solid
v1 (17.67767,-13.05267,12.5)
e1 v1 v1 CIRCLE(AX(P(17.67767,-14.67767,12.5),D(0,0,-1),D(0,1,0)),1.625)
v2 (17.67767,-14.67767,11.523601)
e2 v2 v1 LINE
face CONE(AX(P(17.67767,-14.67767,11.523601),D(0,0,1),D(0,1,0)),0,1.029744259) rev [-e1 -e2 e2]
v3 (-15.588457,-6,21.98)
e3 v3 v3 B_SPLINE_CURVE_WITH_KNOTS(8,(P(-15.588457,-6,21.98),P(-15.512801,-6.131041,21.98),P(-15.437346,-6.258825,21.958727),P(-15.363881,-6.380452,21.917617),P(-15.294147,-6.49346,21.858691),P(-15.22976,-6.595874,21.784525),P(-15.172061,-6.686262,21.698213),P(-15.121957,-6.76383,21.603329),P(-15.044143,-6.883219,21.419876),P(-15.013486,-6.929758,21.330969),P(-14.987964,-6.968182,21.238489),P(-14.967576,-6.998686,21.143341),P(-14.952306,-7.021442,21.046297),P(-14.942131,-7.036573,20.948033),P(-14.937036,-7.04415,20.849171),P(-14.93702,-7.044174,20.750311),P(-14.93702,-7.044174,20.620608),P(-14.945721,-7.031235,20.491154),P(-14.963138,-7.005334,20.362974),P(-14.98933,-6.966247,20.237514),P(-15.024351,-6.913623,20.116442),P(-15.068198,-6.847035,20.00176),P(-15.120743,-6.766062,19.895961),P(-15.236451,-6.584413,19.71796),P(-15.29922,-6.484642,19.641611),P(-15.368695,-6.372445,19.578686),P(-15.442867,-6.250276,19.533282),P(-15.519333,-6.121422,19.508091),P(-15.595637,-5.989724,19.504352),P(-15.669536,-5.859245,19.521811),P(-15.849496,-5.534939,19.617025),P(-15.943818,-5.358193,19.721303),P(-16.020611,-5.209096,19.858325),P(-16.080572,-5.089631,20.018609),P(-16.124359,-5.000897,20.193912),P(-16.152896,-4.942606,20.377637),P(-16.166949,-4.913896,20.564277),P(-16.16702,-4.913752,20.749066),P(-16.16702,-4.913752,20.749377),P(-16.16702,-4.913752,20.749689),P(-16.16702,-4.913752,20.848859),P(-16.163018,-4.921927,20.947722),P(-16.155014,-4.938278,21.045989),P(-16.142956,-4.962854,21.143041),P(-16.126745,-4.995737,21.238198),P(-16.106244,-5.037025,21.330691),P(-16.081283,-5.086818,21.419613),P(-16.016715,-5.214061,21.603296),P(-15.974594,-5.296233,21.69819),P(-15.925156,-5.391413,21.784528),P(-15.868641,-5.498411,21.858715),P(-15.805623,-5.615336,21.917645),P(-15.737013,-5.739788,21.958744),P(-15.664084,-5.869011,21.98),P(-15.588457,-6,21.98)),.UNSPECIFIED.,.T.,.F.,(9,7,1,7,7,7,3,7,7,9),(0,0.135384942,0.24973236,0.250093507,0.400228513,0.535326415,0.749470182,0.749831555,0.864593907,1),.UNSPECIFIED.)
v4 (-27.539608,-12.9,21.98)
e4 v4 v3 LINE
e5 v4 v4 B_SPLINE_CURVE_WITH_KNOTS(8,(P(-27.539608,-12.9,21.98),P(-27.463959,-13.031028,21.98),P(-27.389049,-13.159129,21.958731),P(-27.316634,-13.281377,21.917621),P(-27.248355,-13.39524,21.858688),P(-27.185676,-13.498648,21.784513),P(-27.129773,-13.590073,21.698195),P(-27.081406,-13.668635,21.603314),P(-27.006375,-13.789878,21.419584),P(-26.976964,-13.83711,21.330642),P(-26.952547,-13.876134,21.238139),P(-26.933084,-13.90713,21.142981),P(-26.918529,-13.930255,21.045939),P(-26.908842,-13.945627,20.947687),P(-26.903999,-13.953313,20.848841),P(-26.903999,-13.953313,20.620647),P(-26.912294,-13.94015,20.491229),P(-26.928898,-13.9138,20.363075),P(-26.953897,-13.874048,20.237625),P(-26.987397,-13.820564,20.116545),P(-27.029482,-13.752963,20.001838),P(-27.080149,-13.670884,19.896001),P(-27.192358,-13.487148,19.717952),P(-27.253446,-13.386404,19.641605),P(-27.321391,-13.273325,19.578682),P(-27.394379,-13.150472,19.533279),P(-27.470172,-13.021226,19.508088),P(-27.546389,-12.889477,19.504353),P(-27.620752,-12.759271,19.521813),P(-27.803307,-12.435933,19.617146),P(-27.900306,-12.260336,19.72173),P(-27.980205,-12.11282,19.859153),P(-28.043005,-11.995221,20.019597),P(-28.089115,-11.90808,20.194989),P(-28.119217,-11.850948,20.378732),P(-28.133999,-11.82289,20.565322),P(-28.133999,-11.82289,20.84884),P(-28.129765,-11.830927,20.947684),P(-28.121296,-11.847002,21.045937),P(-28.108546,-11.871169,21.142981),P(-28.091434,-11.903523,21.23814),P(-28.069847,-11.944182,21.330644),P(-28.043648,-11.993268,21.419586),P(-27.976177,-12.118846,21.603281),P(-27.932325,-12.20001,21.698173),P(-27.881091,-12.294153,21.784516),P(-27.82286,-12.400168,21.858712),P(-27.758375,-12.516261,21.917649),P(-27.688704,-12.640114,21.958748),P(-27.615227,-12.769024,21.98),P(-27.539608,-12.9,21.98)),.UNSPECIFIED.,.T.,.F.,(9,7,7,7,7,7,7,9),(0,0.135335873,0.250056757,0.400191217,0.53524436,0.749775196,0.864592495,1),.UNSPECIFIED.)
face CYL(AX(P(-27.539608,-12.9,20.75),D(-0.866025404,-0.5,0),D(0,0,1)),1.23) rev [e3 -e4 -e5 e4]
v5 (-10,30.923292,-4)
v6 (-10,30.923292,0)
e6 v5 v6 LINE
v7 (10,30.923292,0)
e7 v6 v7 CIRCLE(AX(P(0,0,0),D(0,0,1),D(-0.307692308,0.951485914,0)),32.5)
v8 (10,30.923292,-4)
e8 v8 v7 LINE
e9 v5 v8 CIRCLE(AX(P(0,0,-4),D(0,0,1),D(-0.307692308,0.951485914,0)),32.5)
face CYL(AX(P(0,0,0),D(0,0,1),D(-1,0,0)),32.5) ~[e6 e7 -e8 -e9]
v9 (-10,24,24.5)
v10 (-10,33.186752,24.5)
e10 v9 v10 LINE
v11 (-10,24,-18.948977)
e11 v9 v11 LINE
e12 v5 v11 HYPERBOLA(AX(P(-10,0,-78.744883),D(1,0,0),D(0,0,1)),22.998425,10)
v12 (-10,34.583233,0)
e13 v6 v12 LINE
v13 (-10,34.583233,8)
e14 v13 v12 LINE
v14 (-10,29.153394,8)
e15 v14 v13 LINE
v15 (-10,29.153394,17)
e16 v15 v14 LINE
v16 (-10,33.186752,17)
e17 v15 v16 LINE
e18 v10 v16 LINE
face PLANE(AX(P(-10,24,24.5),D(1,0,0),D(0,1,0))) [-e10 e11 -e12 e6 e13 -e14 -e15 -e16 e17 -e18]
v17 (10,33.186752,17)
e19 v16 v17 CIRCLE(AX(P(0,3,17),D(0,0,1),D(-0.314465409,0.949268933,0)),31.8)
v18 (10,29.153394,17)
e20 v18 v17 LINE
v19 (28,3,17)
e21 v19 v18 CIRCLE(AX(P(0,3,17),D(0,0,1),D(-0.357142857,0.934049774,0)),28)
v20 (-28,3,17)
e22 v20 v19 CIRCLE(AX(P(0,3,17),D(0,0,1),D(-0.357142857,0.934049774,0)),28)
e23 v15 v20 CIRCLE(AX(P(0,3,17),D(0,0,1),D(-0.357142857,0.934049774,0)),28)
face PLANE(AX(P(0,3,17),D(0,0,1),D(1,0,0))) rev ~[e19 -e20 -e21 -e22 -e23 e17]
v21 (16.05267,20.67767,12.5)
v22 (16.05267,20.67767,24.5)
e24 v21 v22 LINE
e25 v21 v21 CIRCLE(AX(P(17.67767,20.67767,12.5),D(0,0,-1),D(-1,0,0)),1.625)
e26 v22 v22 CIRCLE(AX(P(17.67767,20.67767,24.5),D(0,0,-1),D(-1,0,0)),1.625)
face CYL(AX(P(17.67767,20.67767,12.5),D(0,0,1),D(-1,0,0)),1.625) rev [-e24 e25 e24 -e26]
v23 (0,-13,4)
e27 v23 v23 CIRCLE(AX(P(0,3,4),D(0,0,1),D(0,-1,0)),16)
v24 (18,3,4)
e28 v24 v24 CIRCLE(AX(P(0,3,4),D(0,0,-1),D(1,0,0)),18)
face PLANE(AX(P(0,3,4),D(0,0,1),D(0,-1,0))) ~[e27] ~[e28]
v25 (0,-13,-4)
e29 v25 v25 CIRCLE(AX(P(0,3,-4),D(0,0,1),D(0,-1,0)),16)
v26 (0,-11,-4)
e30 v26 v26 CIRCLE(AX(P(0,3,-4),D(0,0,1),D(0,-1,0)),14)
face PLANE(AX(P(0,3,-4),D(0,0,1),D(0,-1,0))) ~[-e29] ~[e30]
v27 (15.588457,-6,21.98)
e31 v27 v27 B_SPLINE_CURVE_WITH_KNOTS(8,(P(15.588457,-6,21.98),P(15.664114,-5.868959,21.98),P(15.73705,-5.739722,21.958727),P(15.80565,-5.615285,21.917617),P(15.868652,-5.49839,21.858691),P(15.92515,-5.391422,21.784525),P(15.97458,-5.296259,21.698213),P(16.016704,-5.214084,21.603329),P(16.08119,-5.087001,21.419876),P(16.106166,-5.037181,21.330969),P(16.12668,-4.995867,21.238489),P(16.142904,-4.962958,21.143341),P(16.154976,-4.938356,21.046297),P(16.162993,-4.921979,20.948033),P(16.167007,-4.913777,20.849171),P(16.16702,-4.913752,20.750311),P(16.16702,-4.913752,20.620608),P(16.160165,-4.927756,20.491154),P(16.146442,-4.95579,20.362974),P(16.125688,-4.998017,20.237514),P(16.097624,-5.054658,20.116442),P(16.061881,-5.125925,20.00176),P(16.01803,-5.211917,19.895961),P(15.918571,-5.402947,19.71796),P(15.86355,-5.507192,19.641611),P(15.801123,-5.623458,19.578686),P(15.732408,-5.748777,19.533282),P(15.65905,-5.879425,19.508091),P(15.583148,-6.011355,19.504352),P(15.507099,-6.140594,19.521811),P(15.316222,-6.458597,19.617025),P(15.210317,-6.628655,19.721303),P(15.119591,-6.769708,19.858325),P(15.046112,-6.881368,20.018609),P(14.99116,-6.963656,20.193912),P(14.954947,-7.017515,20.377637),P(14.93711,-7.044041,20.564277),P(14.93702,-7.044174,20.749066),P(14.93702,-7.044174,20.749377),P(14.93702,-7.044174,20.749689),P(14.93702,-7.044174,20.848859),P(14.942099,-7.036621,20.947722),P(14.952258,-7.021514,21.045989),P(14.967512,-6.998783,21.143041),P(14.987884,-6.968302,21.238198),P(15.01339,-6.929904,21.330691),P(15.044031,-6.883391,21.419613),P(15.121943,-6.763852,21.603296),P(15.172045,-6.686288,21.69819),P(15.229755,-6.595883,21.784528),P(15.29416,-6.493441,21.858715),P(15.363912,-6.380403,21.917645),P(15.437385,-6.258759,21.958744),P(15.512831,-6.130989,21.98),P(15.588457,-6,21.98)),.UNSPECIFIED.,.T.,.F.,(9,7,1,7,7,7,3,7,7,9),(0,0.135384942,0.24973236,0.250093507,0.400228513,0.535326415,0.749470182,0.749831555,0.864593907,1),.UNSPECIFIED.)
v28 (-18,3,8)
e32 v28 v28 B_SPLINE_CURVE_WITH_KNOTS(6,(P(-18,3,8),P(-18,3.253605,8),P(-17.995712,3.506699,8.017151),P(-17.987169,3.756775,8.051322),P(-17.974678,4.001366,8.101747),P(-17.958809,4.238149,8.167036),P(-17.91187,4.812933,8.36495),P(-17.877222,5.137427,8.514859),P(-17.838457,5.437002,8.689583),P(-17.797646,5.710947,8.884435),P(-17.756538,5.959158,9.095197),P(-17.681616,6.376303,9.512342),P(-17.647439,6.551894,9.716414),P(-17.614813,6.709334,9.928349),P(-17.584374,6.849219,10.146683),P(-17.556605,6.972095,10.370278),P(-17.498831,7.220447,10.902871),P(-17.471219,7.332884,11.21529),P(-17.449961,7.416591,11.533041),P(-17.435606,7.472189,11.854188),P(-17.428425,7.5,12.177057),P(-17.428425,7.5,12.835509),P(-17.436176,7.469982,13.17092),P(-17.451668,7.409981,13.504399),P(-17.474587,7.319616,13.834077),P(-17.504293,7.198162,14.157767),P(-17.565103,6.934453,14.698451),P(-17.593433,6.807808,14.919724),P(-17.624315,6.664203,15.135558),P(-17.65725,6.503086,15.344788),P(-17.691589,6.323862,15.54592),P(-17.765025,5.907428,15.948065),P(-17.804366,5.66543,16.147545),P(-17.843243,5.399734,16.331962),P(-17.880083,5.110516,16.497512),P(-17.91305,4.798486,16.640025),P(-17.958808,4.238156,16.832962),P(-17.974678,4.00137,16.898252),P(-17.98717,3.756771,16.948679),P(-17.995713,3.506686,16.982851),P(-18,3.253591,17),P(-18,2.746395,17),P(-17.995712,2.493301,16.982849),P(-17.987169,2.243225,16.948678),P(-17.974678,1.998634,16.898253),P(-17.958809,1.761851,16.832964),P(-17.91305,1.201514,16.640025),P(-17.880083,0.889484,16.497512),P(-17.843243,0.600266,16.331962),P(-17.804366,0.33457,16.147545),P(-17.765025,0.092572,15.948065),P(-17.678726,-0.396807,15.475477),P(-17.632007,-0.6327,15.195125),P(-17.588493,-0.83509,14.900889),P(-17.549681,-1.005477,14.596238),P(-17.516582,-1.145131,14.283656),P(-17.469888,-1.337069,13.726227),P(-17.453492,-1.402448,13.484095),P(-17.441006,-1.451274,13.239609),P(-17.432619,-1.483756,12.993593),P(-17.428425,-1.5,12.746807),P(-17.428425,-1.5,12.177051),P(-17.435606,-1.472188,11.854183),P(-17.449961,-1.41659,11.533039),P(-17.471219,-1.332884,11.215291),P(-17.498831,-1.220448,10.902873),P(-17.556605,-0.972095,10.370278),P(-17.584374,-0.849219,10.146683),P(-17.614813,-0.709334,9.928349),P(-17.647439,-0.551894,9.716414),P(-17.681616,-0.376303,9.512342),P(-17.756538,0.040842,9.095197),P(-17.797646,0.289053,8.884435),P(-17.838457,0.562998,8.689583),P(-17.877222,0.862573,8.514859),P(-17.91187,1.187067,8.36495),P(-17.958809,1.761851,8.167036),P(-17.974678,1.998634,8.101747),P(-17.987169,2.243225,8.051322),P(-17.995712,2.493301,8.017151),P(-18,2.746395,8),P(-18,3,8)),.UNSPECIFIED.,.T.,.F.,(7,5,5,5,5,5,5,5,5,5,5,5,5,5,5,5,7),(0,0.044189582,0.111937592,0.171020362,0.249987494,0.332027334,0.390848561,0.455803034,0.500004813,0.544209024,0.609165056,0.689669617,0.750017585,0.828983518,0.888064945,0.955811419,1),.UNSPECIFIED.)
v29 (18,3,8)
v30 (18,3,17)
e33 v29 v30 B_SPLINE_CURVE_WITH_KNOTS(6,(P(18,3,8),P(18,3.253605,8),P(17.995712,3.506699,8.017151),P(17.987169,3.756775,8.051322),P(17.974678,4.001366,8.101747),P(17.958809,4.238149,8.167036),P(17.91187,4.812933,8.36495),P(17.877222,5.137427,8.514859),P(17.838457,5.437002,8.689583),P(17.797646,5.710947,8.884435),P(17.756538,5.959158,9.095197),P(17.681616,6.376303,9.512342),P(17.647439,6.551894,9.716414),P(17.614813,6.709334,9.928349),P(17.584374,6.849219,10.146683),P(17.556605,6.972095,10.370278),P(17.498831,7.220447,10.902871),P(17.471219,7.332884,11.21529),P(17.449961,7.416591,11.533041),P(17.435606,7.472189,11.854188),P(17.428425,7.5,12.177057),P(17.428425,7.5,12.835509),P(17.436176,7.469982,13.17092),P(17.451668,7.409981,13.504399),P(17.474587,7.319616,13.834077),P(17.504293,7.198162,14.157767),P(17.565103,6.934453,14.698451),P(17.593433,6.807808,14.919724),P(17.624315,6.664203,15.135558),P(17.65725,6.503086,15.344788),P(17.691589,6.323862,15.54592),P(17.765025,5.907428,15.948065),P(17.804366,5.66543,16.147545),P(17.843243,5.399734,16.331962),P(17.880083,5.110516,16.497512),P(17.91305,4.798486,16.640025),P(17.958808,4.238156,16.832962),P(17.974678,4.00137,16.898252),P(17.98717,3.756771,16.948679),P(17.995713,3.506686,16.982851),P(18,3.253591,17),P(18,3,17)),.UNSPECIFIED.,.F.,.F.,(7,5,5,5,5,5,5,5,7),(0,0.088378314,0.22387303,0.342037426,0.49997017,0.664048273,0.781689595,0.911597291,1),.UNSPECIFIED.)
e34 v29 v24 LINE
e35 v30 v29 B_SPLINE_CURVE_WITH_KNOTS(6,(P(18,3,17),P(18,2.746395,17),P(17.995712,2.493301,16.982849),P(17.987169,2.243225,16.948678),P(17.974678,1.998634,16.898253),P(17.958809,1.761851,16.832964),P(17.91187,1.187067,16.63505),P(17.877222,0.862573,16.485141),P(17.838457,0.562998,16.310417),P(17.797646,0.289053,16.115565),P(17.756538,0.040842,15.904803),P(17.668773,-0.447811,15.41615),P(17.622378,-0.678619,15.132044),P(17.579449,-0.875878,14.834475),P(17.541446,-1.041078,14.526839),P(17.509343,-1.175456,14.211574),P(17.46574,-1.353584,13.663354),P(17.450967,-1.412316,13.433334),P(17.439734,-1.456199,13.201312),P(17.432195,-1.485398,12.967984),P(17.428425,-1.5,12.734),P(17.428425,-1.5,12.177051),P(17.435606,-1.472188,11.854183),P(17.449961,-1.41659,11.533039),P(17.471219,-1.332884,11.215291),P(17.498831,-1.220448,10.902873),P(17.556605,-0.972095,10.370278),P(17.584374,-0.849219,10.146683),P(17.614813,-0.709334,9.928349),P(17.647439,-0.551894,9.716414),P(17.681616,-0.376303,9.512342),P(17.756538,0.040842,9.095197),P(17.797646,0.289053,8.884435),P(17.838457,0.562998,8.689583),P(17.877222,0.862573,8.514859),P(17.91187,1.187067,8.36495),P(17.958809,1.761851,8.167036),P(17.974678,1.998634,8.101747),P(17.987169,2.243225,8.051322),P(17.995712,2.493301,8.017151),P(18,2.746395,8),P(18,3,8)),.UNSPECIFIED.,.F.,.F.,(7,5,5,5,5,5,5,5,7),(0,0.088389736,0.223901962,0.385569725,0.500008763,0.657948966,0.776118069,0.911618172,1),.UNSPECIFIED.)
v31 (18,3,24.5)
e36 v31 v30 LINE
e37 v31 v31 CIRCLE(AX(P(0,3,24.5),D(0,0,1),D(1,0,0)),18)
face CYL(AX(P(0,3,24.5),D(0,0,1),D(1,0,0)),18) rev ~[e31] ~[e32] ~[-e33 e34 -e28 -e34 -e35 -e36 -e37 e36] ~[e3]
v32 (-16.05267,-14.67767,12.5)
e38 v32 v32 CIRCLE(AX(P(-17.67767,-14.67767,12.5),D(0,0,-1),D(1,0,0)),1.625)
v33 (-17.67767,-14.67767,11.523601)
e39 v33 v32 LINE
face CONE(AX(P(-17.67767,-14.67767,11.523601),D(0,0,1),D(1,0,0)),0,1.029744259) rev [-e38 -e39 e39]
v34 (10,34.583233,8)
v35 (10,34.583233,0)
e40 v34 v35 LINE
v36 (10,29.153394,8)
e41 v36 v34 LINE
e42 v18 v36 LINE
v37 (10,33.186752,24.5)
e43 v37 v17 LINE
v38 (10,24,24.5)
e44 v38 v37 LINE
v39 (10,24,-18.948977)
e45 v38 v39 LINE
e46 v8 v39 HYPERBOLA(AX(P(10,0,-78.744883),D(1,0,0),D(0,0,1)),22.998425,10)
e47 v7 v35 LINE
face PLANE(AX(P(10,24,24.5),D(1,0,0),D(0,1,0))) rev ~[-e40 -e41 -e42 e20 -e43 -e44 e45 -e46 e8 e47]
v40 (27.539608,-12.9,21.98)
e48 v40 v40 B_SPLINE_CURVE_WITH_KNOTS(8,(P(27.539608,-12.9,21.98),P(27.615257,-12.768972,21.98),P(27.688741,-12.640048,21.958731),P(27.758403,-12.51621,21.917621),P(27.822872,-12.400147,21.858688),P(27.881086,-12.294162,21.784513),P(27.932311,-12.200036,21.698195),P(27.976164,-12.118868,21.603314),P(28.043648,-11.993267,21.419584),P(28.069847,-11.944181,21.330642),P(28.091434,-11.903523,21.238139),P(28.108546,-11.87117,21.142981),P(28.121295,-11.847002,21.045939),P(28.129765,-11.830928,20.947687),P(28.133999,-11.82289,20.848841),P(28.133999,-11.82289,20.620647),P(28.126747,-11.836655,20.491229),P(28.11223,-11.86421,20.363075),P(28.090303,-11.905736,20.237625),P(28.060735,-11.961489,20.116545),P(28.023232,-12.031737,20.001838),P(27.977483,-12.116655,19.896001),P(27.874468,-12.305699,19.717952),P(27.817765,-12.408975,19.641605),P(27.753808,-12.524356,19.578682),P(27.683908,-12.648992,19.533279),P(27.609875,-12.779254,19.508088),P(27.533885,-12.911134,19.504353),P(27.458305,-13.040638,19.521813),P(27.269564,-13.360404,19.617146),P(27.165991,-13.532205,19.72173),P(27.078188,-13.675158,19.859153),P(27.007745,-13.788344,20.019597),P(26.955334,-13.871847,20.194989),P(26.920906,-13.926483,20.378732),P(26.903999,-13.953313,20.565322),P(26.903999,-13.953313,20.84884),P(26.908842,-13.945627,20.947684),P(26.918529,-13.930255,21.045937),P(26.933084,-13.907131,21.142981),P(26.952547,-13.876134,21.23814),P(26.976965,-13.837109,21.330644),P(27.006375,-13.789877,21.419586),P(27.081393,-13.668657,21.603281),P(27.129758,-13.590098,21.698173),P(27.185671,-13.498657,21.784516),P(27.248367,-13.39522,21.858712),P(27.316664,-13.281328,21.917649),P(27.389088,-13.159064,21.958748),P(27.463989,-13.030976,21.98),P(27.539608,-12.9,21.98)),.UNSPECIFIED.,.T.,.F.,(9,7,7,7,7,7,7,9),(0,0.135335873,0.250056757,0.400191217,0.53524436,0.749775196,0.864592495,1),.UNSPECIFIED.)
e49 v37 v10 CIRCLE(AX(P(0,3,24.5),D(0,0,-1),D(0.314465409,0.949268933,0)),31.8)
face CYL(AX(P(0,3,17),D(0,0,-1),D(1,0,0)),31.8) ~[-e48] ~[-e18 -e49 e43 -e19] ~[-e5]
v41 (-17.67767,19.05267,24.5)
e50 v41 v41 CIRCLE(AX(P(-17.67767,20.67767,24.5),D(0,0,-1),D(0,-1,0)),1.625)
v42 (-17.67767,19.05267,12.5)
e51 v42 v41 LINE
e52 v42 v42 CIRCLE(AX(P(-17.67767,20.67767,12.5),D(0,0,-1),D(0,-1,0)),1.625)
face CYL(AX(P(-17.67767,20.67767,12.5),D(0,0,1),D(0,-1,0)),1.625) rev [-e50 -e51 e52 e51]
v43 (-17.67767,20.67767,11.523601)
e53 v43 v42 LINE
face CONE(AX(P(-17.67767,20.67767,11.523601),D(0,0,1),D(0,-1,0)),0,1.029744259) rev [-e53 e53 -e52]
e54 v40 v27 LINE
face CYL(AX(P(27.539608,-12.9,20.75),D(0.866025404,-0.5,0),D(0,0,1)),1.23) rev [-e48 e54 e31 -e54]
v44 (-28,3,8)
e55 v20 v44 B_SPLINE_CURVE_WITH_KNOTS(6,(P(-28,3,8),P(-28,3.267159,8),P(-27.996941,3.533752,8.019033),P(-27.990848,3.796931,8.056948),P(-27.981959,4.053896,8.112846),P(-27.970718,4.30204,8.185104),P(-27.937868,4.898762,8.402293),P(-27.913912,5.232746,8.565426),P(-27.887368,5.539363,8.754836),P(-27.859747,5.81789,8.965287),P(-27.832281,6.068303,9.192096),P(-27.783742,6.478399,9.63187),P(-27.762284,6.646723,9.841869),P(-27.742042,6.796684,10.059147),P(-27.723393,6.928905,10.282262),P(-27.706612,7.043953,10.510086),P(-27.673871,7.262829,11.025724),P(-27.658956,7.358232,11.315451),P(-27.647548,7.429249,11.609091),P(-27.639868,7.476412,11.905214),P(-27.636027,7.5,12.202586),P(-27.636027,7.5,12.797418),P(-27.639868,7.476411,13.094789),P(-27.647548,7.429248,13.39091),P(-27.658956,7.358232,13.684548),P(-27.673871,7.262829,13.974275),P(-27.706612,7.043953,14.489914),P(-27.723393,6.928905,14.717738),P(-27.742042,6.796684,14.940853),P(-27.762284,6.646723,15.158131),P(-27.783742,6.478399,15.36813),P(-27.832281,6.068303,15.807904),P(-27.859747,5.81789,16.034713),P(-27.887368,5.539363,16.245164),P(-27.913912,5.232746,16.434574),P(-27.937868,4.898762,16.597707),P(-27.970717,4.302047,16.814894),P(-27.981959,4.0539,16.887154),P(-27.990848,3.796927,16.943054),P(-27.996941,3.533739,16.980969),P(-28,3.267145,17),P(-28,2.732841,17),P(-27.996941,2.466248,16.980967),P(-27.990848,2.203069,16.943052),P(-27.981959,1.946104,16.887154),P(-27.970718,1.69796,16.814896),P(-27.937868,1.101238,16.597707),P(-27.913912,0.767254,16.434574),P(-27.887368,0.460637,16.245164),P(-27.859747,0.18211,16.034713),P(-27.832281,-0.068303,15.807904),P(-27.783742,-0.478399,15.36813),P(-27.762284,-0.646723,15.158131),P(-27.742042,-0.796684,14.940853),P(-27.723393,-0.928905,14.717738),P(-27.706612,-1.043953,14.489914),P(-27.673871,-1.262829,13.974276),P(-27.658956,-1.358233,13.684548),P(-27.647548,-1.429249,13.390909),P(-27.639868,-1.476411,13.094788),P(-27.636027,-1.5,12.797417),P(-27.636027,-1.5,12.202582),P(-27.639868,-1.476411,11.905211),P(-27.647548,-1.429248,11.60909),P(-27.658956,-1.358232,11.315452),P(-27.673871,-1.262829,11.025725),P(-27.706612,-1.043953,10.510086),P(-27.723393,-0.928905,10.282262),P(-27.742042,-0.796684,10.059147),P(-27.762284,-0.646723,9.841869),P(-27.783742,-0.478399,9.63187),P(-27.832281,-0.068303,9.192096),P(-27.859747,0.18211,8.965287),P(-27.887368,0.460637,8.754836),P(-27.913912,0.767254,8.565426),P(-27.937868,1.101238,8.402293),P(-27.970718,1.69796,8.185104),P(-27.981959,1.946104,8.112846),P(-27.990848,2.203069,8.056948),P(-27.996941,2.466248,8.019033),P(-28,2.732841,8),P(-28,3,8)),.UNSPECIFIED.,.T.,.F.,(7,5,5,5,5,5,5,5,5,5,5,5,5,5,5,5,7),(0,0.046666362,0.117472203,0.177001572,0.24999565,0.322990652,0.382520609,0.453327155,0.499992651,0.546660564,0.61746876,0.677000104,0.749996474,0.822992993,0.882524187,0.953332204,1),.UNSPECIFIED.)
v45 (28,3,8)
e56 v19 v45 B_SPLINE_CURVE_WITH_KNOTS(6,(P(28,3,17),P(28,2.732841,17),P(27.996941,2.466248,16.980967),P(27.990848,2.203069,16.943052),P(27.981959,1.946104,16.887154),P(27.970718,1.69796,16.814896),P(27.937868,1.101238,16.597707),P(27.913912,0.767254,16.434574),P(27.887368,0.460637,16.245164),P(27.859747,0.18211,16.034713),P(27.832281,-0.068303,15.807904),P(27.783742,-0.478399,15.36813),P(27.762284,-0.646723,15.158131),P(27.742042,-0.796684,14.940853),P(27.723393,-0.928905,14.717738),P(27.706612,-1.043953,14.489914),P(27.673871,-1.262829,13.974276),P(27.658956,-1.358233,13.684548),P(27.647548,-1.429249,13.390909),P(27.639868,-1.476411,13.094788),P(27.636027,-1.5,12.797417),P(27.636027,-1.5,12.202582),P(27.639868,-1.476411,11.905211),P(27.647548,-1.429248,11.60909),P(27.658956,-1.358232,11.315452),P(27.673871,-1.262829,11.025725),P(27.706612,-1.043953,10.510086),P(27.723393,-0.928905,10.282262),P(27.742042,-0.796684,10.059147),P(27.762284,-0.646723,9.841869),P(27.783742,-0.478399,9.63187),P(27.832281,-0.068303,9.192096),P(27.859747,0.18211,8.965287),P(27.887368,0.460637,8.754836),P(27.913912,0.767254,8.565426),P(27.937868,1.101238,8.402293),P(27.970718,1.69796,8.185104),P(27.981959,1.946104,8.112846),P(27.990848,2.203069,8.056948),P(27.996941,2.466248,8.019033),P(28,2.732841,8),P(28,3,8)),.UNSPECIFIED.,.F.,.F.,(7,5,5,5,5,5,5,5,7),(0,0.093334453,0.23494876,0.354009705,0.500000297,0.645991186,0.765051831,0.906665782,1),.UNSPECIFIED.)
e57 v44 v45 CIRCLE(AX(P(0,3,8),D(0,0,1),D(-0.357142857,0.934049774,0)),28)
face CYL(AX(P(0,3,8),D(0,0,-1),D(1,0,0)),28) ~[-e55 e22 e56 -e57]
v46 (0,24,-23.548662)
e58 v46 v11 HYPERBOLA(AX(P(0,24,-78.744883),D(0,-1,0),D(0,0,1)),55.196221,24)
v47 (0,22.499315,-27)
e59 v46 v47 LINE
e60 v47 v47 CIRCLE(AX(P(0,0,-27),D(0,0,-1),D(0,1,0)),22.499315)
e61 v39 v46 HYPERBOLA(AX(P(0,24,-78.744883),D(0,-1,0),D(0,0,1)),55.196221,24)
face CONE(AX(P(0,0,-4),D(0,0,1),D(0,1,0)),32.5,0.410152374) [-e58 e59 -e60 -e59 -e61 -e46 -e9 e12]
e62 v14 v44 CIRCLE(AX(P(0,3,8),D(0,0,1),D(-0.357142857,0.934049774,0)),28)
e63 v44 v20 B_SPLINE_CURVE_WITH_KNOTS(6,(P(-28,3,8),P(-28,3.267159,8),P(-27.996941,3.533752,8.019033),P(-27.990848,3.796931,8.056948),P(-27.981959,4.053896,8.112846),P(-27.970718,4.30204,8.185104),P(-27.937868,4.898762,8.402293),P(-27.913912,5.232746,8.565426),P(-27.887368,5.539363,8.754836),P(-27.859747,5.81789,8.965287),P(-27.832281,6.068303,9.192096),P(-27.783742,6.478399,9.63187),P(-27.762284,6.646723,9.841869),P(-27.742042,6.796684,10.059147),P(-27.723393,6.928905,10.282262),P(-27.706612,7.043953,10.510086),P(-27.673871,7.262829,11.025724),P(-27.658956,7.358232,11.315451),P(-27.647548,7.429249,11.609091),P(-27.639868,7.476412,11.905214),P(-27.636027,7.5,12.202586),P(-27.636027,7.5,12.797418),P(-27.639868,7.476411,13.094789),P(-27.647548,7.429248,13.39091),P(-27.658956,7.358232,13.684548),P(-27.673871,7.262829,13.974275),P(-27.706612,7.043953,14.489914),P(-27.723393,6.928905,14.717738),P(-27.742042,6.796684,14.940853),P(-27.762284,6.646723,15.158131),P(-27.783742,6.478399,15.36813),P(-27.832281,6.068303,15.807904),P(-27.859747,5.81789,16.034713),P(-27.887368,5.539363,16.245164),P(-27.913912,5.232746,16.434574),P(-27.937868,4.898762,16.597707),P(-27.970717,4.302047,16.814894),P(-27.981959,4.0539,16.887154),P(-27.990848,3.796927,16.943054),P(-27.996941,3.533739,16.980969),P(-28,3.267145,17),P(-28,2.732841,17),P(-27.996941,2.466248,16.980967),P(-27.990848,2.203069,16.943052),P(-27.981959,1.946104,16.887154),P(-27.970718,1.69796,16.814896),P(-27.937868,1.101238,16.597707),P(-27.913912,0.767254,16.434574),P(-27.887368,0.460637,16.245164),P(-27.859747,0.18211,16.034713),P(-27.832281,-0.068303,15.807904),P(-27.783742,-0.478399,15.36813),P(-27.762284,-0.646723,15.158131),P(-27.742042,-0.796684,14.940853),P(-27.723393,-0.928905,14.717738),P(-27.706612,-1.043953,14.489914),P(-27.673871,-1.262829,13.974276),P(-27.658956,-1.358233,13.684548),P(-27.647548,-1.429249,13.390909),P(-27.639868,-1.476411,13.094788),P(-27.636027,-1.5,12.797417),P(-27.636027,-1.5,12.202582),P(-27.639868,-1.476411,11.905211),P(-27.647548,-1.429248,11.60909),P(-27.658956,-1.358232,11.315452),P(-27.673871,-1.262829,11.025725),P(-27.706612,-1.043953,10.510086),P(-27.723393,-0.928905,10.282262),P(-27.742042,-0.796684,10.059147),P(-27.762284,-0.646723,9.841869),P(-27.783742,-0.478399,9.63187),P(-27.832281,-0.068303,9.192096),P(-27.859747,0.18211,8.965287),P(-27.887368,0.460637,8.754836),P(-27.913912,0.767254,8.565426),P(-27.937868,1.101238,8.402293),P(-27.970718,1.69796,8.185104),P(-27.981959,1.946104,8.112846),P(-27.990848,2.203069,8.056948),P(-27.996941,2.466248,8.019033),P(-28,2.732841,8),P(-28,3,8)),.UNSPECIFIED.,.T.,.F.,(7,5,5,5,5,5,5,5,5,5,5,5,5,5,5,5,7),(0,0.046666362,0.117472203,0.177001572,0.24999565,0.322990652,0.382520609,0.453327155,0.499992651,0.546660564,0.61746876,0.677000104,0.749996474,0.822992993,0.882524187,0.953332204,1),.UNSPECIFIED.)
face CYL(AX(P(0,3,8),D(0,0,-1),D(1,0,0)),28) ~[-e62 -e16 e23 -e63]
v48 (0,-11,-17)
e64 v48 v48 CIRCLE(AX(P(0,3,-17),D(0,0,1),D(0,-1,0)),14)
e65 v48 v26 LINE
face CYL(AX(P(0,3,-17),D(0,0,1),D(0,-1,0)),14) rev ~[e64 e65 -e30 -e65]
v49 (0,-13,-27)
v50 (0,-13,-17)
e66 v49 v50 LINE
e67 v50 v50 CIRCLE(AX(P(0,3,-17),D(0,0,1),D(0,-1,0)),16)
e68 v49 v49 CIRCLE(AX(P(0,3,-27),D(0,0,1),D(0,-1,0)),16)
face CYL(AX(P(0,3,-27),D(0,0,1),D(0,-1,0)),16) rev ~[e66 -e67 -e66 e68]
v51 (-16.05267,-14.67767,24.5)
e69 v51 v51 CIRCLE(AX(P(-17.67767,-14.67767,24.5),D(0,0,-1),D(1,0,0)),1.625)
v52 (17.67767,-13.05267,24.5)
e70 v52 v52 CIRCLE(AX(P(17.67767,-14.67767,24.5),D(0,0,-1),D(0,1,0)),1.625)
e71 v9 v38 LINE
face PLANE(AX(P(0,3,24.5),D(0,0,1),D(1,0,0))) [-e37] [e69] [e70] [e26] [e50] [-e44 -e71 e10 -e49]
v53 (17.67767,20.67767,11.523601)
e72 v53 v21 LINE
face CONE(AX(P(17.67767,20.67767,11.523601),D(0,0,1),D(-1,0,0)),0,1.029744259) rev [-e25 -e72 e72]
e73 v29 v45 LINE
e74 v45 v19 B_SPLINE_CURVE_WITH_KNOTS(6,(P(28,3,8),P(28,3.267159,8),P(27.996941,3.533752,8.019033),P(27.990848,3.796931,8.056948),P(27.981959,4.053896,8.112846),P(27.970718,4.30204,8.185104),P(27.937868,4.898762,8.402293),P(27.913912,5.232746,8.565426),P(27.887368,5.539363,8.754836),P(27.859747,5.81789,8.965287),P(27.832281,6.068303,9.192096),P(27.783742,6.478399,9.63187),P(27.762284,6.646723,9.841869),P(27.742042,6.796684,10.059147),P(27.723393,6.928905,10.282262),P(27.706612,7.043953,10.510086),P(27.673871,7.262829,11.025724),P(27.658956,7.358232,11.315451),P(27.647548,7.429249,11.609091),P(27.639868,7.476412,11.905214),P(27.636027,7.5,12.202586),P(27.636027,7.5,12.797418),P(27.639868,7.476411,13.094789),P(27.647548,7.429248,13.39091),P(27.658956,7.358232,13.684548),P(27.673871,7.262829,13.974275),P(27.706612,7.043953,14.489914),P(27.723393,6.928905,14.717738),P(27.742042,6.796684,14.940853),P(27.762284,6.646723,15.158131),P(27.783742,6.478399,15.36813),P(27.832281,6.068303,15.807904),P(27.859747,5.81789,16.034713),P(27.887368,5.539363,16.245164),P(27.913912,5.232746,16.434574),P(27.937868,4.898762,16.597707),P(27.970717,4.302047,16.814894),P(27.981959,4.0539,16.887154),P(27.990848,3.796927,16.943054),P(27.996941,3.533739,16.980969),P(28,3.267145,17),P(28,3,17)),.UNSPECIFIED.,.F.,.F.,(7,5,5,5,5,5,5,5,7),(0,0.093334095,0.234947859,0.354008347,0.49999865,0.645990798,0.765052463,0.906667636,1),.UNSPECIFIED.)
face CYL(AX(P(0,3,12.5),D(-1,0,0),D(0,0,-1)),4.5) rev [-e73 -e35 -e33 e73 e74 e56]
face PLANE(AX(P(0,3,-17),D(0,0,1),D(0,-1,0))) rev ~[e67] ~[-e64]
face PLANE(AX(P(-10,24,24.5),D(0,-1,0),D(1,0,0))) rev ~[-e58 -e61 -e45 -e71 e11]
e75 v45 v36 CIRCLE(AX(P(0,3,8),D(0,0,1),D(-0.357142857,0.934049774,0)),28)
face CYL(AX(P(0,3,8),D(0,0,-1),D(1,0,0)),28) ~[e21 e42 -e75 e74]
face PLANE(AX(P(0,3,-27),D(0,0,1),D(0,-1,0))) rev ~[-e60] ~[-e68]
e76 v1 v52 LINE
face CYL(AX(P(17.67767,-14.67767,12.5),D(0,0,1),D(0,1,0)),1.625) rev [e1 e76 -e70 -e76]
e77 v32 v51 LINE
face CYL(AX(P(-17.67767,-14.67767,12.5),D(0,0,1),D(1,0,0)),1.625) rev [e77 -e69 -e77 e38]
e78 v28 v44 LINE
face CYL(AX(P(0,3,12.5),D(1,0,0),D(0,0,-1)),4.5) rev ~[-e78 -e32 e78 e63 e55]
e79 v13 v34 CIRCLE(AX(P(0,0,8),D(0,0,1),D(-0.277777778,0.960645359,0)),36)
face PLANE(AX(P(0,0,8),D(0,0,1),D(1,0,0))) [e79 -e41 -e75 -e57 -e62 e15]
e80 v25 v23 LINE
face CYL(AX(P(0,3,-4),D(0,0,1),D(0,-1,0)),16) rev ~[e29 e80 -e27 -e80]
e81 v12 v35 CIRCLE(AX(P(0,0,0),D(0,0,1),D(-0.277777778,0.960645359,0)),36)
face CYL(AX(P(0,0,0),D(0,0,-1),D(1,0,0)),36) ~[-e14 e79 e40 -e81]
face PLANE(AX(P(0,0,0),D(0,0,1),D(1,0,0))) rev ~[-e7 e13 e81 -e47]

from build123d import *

# Parameters (mm, degrees)
ESQUISSE1_R                  = 36
BASE_EXTRUSION_DEPTH         = 8
ESQUISSE2_R                  = 32.5
BOSS_EXTRU_1_DEPTH           = 4
ESQUISSE4_R                  = 28
BOSS_EXTRU_2_DEPTH           = 9
ESQUISSE5_R                  = 31.8
BOSS_EXTRU_3_DEPTH           = 7.5
ESQUISSE6_R                  = 18
ENL_V_MAT_EXTRU_1_DEPTH      = 52.5
ESQUISSE10_W                 = 20
ESQUISSE10_H                 = 14.61003861
ENL_V_MAT_EXTRU_5_DEPTH      = 52.5
R_P_TITION_CIRCULAIRE1_COUNT = 4
ESQUISSE13_R                 = 4.5
ENL_V_MAT_EXTRU_6_DEPTH      = 37
ENL_V_MAT_EXTRU_6_DEPTH_BACK = 37
ENL_V_START                  = -31.8
ESQUISSE14_R                 = 1.23
ENL_V_MAT_EXTRU_7_DEPTH      = 13.842074
R_P_TITION_CIRCULAIRE2_COUNT = 2
R_P_TITION_CIRCULAIRE2_ANGLE = 120


with BuildPart() as part:
    # Esquisse1 → Base-Extrusion (new body)
    with BuildSketch(Plane.XY):
        Circle(ESQUISSE1_R)
    extrude(amount=BASE_EXTRUSION_DEPTH)

    # Esquisse2 → Boss.-Extru.1 (add)
    with BuildSketch(Plane(origin=(0, 0, 0), x_dir=(-1, 0, 0), z_dir=(0, 0, -1))):
        Circle(ESQUISSE2_R)
    extrude(amount=BOSS_EXTRU_1_DEPTH)

    # Esquisse3 → Boss.-Révol.1 (revolve)
    with BuildSketch(Plane(origin=(0, 0, 0), x_dir=(0, 0, -1), z_dir=(1, 0, 0))):
        Polygon((4, 32.5), (27, 22.499315376), (27, 0), (4, 0), align=None)
    revolve(axis=Axis((0, 0, 0), (0, 0, -1)))

    # Esquisse4 → Boss.-Extru.2 (add)
    with BuildSketch(Plane.XY.offset(8)):
        with Locations((0, 3)):
            Circle(ESQUISSE4_R)
    extrude(amount=BOSS_EXTRU_2_DEPTH)

    # Esquisse5 → Boss.-Extru.3 (add)
    with BuildSketch(Plane.XY.offset(17)):
        with Locations((0, 3)):
            Circle(ESQUISSE5_R)
    extrude(amount=BOSS_EXTRU_3_DEPTH)

    # Esquisse6 → Enlèv. mat.-Extru.1 (cut, through all)
    with BuildSketch(Plane.XY.offset(24.5)):
        with Locations((0, 3)):
            Circle(ESQUISSE6_R)
    extrude(amount=-ENL_V_MAT_EXTRU_1_DEPTH, mode=Mode.SUBTRACT)

    # Esquisse10 → Enlèv. mat.-Extru.5 (cut, through all)
    with BuildSketch(Plane.XY.offset(24.5)):
        with Locations((0, 31.305019305)):
            Rectangle(ESQUISSE10_W, ESQUISSE10_H)
    extrude(amount=-ENL_V_MAT_EXTRU_5_DEPTH, mode=Mode.SUBTRACT)

    # Esquisse11 → Perçage1 (revolve, cut)
    with BuildSketch(Plane(origin=(-17.67766953, 20.67766953, 24.5), x_dir=(0, -1, 0), z_dir=(1, 0, 0))):
        Polygon((0, 0), (0, 12.976398506), (1.625, 12), (1.625, 0), align=None)
    per_age1 = revolve(axis=Axis((-17.67766953, 20.67766953, 28.744199587), (0, 0, -1)), mode=Mode.SUBTRACT)

    # Répétition circulaire1: Perçage1 ×4 about axis
    r_p_tition_circulaire1_axis = Axis((0, 3, 0), (0, 0, 1))
    for i in range(1, R_P_TITION_CIRCULAIRE1_COUNT):
        add(per_age1.rotate(r_p_tition_circulaire1_axis, i * 360 / R_P_TITION_CIRCULAIRE1_COUNT), mode=Mode.SUBTRACT)

    # Esquisse13 → Enlèv. mat.-Extru.6 (cut, two sides)
    with BuildSketch(Plane(origin=(0, 0, 0), x_dir=(0, 0, -1), z_dir=(1, 0, 0))) as enl_v_mat_extru_6_sk:
        with Locations((-12.5, 3)):
            Circle(ESQUISSE13_R)
    extrude(amount=ENL_V_MAT_EXTRU_6_DEPTH, mode=Mode.SUBTRACT)
    extrude(enl_v_mat_extru_6_sk.sketch, amount=-ENL_V_MAT_EXTRU_6_DEPTH_BACK, mode=Mode.SUBTRACT)

    # Esquisse14 → Enlèv. mat.-Extru.7 (cut)
    with BuildSketch(Plane(origin=(-1.299038106, 0.75, 0), x_dir=(0, 0, 1), z_dir=(-0.866025404, 0.5, 0)).offset(ENL_V_START)):
        with Locations((20.75, 2.598076211)):
            Circle(ESQUISSE14_R)
    enl_v_mat_extru_7 = extrude(amount=ENL_V_MAT_EXTRU_7_DEPTH, mode=Mode.SUBTRACT)

    # Répétition circulaire2: Enlèv. mat.-Extru.7 ×2 about axis
    r_p_tition_circulaire2_axis = Axis((0, 3, 0), (0, 0, -1))
    for i in range(1, R_P_TITION_CIRCULAIRE2_COUNT):
        add(enl_v_mat_extru_7.rotate(r_p_tition_circulaire2_axis, i * R_P_TITION_CIRCULAIRE2_ANGLE / (R_P_TITION_CIRCULAIRE2_COUNT - 1)), mode=Mode.SUBTRACT)

    # Esquisse16 → Révolution1 (revolve)
    with BuildSketch(Plane(origin=(0, 0, 0), x_dir=(0, 0, -1), z_dir=(1, 0, 0))):
        Polygon((27, -15), (27, -13), (17, -13), (17, -11), (4, -11), (4, -13), (-4, -13), (-4, -15), align=None)
    revolve(axis=Axis((0, 3, -27), (0, 0, 1)))


solid = part.part
